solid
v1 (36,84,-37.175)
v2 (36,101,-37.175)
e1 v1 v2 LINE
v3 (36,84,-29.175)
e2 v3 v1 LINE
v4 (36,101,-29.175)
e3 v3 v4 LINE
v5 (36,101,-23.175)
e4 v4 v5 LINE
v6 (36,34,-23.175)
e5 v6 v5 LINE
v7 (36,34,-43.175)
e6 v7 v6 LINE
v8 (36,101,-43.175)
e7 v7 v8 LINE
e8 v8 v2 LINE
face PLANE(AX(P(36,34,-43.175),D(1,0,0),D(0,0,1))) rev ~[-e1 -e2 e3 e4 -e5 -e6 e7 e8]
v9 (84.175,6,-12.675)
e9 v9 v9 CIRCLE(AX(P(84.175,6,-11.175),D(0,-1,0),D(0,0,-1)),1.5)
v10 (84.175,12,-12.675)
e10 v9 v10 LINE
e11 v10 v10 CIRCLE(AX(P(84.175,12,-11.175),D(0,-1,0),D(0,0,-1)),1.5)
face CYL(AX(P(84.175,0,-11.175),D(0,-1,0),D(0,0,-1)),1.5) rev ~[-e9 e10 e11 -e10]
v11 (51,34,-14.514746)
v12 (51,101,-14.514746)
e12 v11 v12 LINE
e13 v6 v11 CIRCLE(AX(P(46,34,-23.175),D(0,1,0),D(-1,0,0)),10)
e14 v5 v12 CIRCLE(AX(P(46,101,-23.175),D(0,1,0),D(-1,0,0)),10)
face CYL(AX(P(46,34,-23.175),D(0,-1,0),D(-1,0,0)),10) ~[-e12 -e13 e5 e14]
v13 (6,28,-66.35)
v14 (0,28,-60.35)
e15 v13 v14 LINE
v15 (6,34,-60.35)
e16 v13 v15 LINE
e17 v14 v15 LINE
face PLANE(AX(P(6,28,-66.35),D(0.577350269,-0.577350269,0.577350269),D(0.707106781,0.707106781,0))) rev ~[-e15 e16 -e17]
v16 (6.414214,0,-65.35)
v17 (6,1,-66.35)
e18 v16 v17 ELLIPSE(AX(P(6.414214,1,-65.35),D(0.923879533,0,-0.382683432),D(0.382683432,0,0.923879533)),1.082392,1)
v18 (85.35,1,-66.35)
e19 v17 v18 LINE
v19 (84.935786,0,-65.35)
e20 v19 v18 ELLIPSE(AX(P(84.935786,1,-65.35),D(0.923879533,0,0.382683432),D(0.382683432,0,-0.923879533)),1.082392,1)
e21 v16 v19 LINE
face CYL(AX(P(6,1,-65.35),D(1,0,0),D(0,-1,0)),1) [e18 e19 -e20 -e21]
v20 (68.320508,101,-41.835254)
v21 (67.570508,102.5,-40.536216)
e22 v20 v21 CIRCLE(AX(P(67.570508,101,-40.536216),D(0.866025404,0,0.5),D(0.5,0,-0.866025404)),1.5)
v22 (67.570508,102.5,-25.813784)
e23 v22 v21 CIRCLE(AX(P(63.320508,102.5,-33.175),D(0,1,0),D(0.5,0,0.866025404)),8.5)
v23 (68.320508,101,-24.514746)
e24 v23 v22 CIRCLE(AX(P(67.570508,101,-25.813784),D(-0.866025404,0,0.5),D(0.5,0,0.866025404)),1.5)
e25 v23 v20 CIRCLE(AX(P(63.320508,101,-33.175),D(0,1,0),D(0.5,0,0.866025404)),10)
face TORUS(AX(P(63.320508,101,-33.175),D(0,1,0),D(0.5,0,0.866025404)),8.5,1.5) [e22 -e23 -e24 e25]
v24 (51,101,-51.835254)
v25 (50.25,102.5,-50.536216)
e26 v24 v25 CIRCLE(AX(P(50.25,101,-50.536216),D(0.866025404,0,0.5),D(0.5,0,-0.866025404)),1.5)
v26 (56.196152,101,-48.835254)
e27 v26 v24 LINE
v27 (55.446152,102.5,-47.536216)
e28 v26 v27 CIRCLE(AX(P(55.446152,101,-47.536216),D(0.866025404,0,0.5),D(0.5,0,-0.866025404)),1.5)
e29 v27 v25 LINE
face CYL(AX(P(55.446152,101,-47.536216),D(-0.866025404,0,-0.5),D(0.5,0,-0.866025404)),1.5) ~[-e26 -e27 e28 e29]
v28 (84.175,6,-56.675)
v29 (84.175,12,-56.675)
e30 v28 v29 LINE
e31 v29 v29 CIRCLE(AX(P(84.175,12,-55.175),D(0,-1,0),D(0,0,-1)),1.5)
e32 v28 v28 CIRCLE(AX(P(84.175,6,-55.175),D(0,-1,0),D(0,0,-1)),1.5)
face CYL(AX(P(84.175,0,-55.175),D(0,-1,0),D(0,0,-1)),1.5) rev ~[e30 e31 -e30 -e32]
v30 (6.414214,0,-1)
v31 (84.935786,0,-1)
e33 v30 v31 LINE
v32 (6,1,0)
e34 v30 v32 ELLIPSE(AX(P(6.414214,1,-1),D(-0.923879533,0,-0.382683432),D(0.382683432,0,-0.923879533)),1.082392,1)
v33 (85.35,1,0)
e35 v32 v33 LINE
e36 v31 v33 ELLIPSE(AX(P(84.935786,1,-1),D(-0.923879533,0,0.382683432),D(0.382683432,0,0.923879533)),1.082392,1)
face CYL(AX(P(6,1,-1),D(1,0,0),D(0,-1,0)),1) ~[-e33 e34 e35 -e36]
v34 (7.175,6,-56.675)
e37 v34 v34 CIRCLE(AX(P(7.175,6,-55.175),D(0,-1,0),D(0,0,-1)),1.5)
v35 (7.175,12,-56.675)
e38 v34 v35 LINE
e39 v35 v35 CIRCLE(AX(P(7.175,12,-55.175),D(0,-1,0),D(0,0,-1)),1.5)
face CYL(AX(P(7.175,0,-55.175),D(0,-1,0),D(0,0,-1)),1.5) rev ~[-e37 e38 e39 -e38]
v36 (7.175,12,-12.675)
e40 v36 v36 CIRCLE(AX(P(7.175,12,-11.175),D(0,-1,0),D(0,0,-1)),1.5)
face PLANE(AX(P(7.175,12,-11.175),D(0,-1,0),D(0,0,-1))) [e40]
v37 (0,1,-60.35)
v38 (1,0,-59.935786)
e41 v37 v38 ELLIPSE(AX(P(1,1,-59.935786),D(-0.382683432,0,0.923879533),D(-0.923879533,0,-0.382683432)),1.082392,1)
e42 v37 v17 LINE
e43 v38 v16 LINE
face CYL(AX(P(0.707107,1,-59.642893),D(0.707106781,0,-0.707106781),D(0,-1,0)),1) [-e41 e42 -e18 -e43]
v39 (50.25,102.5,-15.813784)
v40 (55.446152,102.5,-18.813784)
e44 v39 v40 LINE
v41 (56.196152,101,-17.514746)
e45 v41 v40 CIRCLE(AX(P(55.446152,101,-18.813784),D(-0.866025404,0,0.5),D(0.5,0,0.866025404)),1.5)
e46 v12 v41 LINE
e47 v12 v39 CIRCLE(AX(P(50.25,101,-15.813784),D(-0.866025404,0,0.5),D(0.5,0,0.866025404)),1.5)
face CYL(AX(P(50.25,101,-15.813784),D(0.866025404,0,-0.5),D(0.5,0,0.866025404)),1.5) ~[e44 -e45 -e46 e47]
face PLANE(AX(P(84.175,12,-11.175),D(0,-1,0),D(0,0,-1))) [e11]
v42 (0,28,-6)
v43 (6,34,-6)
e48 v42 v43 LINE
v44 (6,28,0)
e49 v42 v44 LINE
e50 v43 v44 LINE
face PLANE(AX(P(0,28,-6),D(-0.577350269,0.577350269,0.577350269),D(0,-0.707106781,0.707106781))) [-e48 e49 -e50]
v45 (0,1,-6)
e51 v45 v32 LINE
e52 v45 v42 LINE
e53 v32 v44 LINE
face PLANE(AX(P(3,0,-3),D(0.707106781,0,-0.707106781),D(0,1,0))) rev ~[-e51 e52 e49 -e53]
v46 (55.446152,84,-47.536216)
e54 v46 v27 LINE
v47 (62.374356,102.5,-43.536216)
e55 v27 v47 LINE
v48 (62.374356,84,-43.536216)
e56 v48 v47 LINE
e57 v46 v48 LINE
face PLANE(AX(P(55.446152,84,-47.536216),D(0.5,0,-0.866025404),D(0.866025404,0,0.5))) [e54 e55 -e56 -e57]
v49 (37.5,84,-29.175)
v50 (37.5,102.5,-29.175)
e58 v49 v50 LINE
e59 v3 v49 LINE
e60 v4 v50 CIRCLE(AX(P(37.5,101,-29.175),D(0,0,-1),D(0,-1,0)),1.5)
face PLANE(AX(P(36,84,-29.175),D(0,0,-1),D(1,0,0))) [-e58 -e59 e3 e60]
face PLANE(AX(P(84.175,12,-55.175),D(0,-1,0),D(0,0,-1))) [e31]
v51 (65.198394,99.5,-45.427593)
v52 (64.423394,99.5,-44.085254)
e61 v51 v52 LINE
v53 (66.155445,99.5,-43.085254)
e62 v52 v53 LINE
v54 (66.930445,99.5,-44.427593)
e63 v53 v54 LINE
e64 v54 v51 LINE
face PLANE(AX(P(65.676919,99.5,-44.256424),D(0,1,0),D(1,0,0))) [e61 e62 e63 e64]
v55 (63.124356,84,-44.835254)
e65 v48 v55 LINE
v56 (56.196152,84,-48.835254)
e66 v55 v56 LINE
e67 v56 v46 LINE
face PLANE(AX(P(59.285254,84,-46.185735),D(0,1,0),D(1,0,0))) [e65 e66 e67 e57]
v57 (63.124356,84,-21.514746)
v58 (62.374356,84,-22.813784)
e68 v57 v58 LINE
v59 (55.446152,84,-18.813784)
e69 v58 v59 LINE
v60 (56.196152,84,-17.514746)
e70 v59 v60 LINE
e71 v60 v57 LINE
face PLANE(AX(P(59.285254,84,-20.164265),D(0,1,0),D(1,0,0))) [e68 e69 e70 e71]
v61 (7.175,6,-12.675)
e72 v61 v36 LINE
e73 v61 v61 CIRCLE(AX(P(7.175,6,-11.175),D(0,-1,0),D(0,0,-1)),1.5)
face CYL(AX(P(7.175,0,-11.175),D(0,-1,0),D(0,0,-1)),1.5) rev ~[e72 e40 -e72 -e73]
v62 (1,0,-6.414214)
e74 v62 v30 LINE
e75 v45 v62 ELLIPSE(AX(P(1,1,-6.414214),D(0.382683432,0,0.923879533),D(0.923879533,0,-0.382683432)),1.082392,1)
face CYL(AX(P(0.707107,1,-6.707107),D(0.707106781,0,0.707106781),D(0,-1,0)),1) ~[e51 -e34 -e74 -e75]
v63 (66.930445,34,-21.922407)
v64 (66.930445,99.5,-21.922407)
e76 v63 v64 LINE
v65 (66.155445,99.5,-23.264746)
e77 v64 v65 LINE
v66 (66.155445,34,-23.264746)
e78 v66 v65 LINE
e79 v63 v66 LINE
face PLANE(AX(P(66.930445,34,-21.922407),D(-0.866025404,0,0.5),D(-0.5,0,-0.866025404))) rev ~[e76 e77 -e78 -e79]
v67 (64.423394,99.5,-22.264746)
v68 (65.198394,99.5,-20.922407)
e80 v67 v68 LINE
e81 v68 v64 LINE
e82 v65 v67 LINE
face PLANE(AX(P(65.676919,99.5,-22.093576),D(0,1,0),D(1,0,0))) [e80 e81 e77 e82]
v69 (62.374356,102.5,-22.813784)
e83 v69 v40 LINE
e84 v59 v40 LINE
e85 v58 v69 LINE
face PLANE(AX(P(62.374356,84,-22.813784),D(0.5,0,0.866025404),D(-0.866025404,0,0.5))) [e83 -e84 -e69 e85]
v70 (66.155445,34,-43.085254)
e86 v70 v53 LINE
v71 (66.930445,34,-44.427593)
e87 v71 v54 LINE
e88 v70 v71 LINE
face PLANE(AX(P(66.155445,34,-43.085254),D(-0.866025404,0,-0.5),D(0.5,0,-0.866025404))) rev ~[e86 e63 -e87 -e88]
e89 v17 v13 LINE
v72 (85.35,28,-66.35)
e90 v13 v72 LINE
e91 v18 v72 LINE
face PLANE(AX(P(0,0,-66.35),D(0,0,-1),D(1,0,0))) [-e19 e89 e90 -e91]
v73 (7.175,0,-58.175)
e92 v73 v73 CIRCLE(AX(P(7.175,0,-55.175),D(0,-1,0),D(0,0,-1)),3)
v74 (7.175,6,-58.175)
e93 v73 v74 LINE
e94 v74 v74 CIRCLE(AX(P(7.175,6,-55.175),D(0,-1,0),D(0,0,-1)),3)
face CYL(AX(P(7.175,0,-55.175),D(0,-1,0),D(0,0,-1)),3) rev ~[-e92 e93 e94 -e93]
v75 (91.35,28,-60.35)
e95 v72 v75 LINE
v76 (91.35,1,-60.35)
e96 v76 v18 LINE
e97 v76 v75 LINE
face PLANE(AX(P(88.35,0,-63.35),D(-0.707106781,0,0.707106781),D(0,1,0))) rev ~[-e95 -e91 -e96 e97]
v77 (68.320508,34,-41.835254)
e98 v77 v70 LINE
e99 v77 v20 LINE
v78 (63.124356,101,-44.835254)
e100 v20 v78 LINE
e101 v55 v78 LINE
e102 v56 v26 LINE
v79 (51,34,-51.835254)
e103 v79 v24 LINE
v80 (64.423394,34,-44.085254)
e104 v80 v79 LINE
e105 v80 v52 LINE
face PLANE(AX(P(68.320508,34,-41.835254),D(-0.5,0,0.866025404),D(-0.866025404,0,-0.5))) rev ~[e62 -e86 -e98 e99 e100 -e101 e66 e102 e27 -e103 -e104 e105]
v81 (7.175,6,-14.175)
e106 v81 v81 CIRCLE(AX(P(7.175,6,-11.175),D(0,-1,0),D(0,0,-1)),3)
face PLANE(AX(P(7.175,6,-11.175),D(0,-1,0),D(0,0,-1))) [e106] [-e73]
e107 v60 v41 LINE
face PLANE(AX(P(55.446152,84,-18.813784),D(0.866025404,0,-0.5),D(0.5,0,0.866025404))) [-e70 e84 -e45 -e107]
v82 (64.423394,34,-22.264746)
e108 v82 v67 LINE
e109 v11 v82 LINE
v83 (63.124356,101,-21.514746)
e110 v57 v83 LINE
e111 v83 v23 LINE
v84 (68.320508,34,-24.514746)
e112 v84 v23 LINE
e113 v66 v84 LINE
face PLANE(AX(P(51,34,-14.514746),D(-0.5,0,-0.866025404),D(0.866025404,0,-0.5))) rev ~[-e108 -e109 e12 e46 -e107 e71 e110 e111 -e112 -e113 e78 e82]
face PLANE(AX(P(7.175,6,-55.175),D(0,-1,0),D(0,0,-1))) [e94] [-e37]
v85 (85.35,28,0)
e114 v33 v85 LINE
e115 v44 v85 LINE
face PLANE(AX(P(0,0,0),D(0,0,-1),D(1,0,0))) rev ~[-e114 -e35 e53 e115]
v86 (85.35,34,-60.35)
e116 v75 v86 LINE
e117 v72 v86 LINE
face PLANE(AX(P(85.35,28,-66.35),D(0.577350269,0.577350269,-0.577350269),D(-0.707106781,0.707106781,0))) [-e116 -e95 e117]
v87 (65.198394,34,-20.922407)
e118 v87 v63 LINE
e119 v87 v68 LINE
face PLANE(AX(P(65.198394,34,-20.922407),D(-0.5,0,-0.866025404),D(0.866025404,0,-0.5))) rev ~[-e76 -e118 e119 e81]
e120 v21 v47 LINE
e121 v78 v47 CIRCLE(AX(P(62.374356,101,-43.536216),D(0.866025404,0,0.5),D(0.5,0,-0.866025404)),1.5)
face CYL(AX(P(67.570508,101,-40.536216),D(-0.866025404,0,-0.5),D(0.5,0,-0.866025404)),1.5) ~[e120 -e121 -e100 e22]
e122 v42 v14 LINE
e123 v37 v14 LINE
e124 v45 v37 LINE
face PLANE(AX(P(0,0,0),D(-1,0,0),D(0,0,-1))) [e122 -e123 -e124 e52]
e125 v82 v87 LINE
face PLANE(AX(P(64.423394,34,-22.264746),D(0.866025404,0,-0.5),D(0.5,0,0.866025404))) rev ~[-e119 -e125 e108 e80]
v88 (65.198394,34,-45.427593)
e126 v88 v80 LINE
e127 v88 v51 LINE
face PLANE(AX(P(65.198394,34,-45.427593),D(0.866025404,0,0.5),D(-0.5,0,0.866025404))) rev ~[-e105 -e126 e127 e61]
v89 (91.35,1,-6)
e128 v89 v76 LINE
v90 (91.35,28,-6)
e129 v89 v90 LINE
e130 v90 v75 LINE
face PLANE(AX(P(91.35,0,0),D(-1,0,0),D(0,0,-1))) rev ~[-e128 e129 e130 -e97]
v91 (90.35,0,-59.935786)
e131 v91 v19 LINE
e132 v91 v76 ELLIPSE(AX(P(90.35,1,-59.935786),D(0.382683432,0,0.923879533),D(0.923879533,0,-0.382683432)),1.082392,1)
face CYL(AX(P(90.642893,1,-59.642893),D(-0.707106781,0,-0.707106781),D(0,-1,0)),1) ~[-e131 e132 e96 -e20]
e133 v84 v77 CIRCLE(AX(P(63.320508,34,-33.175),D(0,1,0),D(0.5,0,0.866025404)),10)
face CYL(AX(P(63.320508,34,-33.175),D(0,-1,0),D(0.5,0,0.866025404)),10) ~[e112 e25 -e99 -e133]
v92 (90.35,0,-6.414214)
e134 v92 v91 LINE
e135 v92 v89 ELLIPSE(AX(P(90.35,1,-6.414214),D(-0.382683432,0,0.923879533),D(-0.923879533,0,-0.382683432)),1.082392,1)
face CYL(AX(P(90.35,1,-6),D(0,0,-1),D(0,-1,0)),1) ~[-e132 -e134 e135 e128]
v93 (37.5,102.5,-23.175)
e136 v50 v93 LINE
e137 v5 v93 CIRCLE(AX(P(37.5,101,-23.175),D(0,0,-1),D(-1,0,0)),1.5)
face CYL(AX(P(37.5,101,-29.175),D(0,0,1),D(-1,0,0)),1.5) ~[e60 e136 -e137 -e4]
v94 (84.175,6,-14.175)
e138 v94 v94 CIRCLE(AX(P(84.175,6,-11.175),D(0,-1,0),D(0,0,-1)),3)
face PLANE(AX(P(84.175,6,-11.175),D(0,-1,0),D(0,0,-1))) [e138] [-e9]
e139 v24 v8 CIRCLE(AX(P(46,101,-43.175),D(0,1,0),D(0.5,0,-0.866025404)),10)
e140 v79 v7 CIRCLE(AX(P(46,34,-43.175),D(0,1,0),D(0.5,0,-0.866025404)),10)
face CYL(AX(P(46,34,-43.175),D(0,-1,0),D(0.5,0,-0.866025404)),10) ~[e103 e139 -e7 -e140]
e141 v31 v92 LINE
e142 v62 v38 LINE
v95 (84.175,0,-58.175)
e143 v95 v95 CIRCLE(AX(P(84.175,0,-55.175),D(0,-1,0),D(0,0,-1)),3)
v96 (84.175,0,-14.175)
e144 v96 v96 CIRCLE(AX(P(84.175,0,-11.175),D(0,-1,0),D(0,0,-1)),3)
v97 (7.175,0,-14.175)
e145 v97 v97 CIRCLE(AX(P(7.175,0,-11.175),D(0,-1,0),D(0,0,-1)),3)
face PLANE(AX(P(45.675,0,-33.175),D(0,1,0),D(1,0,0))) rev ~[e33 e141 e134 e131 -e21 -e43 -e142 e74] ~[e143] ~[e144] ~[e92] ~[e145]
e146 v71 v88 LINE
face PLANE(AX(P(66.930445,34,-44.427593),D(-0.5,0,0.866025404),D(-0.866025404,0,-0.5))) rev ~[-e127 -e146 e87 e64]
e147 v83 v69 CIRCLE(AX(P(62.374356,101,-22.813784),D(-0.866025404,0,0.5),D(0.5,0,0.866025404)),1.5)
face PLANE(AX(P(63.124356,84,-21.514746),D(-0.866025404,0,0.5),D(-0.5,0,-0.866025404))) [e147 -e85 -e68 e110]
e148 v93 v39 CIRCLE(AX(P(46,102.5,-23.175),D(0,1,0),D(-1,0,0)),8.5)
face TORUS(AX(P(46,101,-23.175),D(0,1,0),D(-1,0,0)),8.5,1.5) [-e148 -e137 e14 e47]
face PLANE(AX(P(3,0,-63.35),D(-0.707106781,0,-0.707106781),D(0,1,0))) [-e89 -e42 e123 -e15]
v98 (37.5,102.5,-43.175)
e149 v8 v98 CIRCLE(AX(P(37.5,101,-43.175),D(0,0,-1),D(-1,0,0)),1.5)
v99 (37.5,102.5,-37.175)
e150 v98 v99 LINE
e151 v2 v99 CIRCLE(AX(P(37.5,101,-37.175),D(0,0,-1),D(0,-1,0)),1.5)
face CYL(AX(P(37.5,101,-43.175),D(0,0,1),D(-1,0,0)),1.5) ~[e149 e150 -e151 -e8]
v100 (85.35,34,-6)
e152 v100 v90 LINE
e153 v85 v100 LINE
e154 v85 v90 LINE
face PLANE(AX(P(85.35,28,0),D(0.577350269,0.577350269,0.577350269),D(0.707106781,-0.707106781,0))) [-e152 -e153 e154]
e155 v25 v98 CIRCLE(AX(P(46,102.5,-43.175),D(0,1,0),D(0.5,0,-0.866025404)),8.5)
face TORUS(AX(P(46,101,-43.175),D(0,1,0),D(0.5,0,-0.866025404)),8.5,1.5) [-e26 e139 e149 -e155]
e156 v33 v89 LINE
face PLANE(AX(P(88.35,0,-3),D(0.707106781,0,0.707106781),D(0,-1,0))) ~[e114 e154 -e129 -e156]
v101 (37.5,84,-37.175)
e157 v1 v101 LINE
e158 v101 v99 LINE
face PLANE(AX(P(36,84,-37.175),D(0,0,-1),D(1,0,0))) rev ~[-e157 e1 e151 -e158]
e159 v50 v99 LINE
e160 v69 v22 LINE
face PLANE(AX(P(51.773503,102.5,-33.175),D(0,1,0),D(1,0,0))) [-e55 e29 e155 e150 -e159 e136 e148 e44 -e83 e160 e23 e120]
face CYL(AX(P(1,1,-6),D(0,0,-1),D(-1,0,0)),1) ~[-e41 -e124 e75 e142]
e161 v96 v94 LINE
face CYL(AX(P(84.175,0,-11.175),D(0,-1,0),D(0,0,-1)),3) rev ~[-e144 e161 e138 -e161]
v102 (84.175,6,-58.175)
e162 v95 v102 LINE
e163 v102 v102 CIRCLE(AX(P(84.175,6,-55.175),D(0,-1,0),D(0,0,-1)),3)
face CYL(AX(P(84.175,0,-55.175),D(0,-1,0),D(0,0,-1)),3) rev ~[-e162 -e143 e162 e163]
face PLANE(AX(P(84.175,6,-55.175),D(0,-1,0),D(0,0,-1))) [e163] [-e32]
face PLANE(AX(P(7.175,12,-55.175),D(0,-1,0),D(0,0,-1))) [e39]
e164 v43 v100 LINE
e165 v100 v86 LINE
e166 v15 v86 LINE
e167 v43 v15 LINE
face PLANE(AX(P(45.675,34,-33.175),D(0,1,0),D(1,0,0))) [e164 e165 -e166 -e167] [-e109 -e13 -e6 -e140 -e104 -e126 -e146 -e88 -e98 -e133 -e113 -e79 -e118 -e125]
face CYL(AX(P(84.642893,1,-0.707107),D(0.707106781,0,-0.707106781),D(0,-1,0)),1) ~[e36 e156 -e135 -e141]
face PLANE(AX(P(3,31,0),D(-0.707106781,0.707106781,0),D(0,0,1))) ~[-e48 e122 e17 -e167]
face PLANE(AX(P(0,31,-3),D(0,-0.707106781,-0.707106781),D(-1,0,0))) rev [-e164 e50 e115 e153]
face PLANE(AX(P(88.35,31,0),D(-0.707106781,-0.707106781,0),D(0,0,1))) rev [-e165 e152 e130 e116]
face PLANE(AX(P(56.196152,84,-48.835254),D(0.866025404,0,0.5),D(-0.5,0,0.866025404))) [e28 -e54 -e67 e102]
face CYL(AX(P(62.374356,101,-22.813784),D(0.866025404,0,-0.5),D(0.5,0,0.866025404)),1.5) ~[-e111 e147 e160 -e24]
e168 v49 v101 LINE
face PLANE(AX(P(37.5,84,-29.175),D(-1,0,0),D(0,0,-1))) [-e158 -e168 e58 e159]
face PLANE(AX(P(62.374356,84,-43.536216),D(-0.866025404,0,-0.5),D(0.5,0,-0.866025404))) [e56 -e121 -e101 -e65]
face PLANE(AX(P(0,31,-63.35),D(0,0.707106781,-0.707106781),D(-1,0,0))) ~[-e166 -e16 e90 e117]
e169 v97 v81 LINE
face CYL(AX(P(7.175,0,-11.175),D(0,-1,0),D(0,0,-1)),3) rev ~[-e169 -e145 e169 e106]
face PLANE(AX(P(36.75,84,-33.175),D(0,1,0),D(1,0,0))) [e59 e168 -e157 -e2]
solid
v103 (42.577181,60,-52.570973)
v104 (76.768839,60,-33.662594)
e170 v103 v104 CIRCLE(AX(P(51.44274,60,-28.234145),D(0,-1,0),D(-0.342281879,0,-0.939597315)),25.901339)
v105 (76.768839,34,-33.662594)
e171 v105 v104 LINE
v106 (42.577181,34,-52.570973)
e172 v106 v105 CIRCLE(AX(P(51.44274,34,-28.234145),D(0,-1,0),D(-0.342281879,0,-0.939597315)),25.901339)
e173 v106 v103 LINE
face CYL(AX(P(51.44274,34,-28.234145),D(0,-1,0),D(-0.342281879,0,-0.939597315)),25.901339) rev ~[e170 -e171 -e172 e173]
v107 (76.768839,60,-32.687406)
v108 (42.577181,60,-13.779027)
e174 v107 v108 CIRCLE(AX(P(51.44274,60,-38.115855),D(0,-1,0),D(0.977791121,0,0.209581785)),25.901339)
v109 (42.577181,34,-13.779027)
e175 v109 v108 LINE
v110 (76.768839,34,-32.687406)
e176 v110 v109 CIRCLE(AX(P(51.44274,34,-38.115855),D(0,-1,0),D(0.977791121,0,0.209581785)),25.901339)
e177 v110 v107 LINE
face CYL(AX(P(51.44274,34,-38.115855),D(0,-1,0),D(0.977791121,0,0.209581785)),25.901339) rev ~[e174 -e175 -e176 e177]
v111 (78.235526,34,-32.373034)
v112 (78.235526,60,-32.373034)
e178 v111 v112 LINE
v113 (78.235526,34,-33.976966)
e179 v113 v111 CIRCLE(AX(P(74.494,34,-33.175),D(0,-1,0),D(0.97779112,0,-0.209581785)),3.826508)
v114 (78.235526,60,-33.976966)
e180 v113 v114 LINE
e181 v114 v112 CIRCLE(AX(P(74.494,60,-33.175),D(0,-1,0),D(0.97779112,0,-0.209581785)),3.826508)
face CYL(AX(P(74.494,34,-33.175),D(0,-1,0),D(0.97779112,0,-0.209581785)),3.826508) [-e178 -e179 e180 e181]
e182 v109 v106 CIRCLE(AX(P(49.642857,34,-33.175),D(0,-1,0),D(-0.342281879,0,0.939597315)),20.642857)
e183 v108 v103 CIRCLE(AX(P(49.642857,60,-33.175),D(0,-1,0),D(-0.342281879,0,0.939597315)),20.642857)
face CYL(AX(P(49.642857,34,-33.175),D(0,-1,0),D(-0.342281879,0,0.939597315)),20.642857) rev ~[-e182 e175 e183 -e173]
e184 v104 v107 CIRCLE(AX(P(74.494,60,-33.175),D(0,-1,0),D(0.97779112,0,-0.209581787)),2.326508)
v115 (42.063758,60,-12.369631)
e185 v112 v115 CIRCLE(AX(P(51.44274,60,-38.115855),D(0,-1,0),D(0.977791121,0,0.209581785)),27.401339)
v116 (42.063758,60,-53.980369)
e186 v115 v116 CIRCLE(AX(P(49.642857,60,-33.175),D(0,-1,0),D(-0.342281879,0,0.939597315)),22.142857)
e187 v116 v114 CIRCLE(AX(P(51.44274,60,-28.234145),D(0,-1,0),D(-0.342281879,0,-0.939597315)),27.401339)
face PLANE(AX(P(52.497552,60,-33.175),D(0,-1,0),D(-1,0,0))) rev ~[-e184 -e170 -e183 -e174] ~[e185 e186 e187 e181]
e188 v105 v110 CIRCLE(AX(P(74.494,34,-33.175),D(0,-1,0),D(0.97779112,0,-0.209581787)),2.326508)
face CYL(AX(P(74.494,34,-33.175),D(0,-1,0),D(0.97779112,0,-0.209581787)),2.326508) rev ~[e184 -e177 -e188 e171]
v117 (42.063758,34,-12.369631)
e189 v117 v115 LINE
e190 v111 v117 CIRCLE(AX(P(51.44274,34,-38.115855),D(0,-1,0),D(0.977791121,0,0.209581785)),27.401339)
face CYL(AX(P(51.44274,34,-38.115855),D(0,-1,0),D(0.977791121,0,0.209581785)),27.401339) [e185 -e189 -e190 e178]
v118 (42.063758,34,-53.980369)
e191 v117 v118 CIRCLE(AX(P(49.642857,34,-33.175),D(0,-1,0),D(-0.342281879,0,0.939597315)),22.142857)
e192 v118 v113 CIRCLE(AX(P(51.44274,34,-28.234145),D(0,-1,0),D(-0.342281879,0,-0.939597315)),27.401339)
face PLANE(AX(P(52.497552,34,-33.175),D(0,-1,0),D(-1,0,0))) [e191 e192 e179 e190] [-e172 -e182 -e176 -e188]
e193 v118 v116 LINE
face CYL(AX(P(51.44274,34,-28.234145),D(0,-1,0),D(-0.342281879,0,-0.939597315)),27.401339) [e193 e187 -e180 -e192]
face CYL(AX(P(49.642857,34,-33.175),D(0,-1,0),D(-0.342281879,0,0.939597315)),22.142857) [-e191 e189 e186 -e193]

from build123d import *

# Parameters (mm, degrees)
SKETCH1_W           = 91.35
SKETCH1_H           = 66.35
BOSS_EXTRUDE1_DEPTH = 34
CHAMFER1_SIZE       = 6
SKETCH2_R           = 3
SKETCH2_R_2         = 1.5
CUT_EXTRUDE1_DEPTH  = 6
SKETCH2_3_R         = 1.5
CUT_EXTRUDE2_DEPTH  = 12
FILLET1_R           = 1
BOSS_EXTRUDE3_START = 34
BOSS_EXTRUDE3_DEPTH = 68.5
CUT_EXTRUDE3_START  = 84
SKETCH1_6_W         = 1.5
SKETCH1_6_H         = 8
CUT_EXTRUDE3_DEPTH  = 18.5
BOSS_EXTRUDE4_START = 34
BOSS_EXTRUDE4_DEPTH = 65.5
FILLET2_R           = 1.5
BOSS_EXTRUDE6_START = 34
BOSS_EXTRUDE6_DEPTH = 26


with BuildPart() as part:
    # Sketch1 → Boss-Extrude1 (new body)
    with BuildSketch(Plane(origin=(0, 0, 0), x_dir=(1, 0, 0), z_dir=(0, 1, 0))):
        with Locations((45.675, 33.175)):
            Rectangle(SKETCH1_W, SKETCH1_H)
    extrude(amount=BOSS_EXTRUDE1_DEPTH)

    # Chamfer1
    chamfer1_edges = [part.edges().sort_by_distance(p)[0] for p in [
        (91.35, 34, -33.175),
        (45.675, 34, 0),
        (0, 34, -33.175),
        (0, 17, 0),
        (91.35, 17, 0),
        (91.35, 17, -66.35),
        (0, 17, -66.35),
        (45.675, 34, -66.35),
    ]]
    chamfer(chamfer1_edges, length=CHAMFER1_SIZE)

    # Sketch2 → Cut-Extrude1 (cut)
    # profile 1 of 4: a face of its own
    with BuildSketch(Plane(origin=(0, 0, 0), x_dir=(-1, 0, 0), z_dir=(0, -1, 0))):
        with Locations(Location((-7.175, 11.175, 0), (0, 0, 90))):
            Circle(SKETCH2_R)
        with Locations(Location((-7.175, 11.175, 0), (0, 0, 90))):
            Circle(SKETCH2_R_2, mode=Mode.SUBTRACT)
    # profile 2 of 4: a face of its own
    with BuildSketch(Plane(origin=(0, 0, 0), x_dir=(-1, 0, 0), z_dir=(0, -1, 0))):
        with Locations(Location((-84.175, 11.175, 0), (0, 0, 90))):
            Circle(SKETCH2_R)
        with Locations(Location((-84.175, 11.175, 0), (0, 0, 90))):
            Circle(SKETCH2_R_2, mode=Mode.SUBTRACT)
    # profile 3 of 4: a face of its own
    with BuildSketch(Plane(origin=(0, 0, 0), x_dir=(-1, 0, 0), z_dir=(0, -1, 0))):
        with Locations(Location((-7.175, 55.175, 0), (0, 0, 90))):
            Circle(SKETCH2_R)
        with Locations(Location((-7.175, 55.175, 0), (0, 0, 90))):
            Circle(SKETCH2_R_2, mode=Mode.SUBTRACT)
    # profile 4 of 4: a face of its own
    with BuildSketch(Plane(origin=(0, 0, 0), x_dir=(-1, 0, 0), z_dir=(0, -1, 0))):
        with Locations(Location((-84.175, 55.175, 0), (0, 0, 90))):
            Circle(SKETCH2_R)
        with Locations(Location((-84.175, 55.175, 0), (0, 0, 90))):
            Circle(SKETCH2_R_2, mode=Mode.SUBTRACT)
    extrude(amount=-CUT_EXTRUDE1_DEPTH, mode=Mode.SUBTRACT)

    # Sketch2<3> → Cut-Extrude2 (cut)
    with BuildSketch(Plane(origin=(0, 0, 0), x_dir=(-1, 0, 0), z_dir=(0, -1, 0))):
        with Locations(Location((-7.175, 11.175, 0), (0, 0, 90))):
            Circle(SKETCH2_3_R)
        with Locations(Location((-84.175, 11.175, 0), (0, 0, 90))):
            Circle(SKETCH2_3_R)
        with Locations(Location((-84.175, 55.175, 0), (0, 0, 90))):
            Circle(SKETCH2_3_R)
        with Locations(Location((-7.175, 55.175, 0), (0, 0, 90))):
            Circle(SKETCH2_3_R)
    extrude(amount=-CUT_EXTRUDE2_DEPTH, mode=Mode.SUBTRACT)

    # Fillet1
    fillet1_edges = [part.edges().sort_by_distance(p)[0] for p in [
        (45.675, 0, -66.35),
        (0, 0, -33.175),
        (91.35, 0, -33.175),
        (45.675, 0, 0),
        (3, 0, -3),
        (3, 0, -63.35),
        (88.35, 0, -3),
        (88.35, 0, -63.35),
    ]]
    fillet(fillet1_edges, radius=FILLET1_R)

    # Sketch1<5> → Boss-Extrude3 (add)
    with BuildSketch(Plane(origin=(0, 0, 0), x_dir=(1, 0, 0), z_dir=(0, 1, 0)).offset(BOSS_EXTRUDE3_START)):
        with BuildLine():
            Line((36, 43.175), (36, 23.175))
            ThreePointArc((36, 23.175), (41, 14.514745962), (51, 14.514745962))
            Line((51, 14.514745962), (68.320508076, 24.514745962))
            ThreePointArc((68.320508076, 24.514745962), (73.320508076, 33.175), (68.320508076, 41.835254038))
            Line((68.320508076, 41.835254038), (51, 51.835254038))
            ThreePointArc((51, 51.835254038), (41, 51.835254038), (36, 43.175))
        make_face()
    extrude(amount=BOSS_EXTRUDE3_DEPTH)

    # Sketch1<6> → Cut-Extrude3 (cut)
    with BuildSketch(Plane(origin=(0, 0, 0), x_dir=(1, 0, 0), z_dir=(0, 1, 0)).offset(CUT_EXTRUDE3_START)):
        Polygon((63.124355653, 44.835254038), (56.196152423, 48.835254038), (55.446152423, 47.536215932), (62.374355653, 43.536215932), align=None)
        Polygon((55.446152423, 18.813784068), (56.196152423, 17.514745962), (63.124355653, 21.514745962), (62.374355653, 22.813784068), align=None)
        with Locations((36.75, 33.175)):
            Rectangle(SKETCH1_6_W, SKETCH1_6_H)
    extrude(amount=CUT_EXTRUDE3_DEPTH, mode=Mode.SUBTRACT)

    # Sketch1<7> → Boss-Extrude4 (add)
    with BuildSketch(Plane(origin=(0, 0, 0), x_dir=(1, 0, 0), z_dir=(0, 1, 0)).offset(BOSS_EXTRUDE4_START)):
        Polygon((65.198393759, 45.427593414), (64.423393759, 44.085254038), (66.155444566, 43.085254038), (66.930444566, 44.427593414), align=None)
        Polygon((66.155444566, 23.264745962), (64.423393759, 22.264745962), (65.198393759, 20.922406586), (66.930444566, 21.922406586), align=None)
    extrude(amount=BOSS_EXTRUDE4_DEPTH)

    # Fillet2
    fillet2_edges = [part.edges().sort_by_distance(p)[0] for p in [
        (53.598076211, 102.5, -16.014745962),
        (36, 102.5, -26.175),
        (36, 102.5, -40.175),
        (53.598076211, 102.5, -50.335254038),
        (65.722431864, 102.5, -43.335254038),
        (65.722431864, 102.5, -23.014745962),
        (41, 102.5, -14.514745962),
        (41, 102.5, -51.835254038),
        (73.320508076, 102.5, -33.175),
    ]]
    fillet(fillet2_edges, radius=FILLET2_R)


with BuildPart() as body_2:
    # Sketch1<8> → Boss-Extrude6 (new body)
    with BuildSketch(Plane(origin=(0, 0, 0), x_dir=(1, 0, 0), z_dir=(0, 1, 0)).offset(BOSS_EXTRUDE6_START)):
        with BuildLine():
            ThreePointArc((42.063758389, 53.980369128), (64.703364915, 52.213077053), (78.235525618, 33.976966404))
            ThreePointArc((78.235525618, 33.976966404), (78.320508076, 33.175), (78.235525618, 32.373033596))
            ThreePointArc((78.235525618, 32.373033596), (64.703364915, 14.136922947), (42.063758389, 12.369630872))
            ThreePointArc((42.063758389, 12.369630872), (27.5, 33.175), (42.063758389, 53.980369128))
        make_face()
        with BuildLine():
            ThreePointArc((42.577181208, 52.570973154), (63.977453762, 50.900425919), (76.768838937, 33.662593726))
            ThreePointArc((76.768838937, 33.662593726), (76.820508076, 33.175), (76.768838937, 32.687406274))
            ThreePointArc((76.768838937, 32.687406274), (63.977453762, 15.449574081), (42.577181208, 13.779026846))
            ThreePointArc((42.577181208, 13.779026846), (29, 33.175), (42.577181208, 52.570973154))
        make_face(mode=Mode.SUBTRACT)
    extrude(amount=BOSS_EXTRUDE6_DEPTH)


solid = Compound([part.part, body_2.part])
